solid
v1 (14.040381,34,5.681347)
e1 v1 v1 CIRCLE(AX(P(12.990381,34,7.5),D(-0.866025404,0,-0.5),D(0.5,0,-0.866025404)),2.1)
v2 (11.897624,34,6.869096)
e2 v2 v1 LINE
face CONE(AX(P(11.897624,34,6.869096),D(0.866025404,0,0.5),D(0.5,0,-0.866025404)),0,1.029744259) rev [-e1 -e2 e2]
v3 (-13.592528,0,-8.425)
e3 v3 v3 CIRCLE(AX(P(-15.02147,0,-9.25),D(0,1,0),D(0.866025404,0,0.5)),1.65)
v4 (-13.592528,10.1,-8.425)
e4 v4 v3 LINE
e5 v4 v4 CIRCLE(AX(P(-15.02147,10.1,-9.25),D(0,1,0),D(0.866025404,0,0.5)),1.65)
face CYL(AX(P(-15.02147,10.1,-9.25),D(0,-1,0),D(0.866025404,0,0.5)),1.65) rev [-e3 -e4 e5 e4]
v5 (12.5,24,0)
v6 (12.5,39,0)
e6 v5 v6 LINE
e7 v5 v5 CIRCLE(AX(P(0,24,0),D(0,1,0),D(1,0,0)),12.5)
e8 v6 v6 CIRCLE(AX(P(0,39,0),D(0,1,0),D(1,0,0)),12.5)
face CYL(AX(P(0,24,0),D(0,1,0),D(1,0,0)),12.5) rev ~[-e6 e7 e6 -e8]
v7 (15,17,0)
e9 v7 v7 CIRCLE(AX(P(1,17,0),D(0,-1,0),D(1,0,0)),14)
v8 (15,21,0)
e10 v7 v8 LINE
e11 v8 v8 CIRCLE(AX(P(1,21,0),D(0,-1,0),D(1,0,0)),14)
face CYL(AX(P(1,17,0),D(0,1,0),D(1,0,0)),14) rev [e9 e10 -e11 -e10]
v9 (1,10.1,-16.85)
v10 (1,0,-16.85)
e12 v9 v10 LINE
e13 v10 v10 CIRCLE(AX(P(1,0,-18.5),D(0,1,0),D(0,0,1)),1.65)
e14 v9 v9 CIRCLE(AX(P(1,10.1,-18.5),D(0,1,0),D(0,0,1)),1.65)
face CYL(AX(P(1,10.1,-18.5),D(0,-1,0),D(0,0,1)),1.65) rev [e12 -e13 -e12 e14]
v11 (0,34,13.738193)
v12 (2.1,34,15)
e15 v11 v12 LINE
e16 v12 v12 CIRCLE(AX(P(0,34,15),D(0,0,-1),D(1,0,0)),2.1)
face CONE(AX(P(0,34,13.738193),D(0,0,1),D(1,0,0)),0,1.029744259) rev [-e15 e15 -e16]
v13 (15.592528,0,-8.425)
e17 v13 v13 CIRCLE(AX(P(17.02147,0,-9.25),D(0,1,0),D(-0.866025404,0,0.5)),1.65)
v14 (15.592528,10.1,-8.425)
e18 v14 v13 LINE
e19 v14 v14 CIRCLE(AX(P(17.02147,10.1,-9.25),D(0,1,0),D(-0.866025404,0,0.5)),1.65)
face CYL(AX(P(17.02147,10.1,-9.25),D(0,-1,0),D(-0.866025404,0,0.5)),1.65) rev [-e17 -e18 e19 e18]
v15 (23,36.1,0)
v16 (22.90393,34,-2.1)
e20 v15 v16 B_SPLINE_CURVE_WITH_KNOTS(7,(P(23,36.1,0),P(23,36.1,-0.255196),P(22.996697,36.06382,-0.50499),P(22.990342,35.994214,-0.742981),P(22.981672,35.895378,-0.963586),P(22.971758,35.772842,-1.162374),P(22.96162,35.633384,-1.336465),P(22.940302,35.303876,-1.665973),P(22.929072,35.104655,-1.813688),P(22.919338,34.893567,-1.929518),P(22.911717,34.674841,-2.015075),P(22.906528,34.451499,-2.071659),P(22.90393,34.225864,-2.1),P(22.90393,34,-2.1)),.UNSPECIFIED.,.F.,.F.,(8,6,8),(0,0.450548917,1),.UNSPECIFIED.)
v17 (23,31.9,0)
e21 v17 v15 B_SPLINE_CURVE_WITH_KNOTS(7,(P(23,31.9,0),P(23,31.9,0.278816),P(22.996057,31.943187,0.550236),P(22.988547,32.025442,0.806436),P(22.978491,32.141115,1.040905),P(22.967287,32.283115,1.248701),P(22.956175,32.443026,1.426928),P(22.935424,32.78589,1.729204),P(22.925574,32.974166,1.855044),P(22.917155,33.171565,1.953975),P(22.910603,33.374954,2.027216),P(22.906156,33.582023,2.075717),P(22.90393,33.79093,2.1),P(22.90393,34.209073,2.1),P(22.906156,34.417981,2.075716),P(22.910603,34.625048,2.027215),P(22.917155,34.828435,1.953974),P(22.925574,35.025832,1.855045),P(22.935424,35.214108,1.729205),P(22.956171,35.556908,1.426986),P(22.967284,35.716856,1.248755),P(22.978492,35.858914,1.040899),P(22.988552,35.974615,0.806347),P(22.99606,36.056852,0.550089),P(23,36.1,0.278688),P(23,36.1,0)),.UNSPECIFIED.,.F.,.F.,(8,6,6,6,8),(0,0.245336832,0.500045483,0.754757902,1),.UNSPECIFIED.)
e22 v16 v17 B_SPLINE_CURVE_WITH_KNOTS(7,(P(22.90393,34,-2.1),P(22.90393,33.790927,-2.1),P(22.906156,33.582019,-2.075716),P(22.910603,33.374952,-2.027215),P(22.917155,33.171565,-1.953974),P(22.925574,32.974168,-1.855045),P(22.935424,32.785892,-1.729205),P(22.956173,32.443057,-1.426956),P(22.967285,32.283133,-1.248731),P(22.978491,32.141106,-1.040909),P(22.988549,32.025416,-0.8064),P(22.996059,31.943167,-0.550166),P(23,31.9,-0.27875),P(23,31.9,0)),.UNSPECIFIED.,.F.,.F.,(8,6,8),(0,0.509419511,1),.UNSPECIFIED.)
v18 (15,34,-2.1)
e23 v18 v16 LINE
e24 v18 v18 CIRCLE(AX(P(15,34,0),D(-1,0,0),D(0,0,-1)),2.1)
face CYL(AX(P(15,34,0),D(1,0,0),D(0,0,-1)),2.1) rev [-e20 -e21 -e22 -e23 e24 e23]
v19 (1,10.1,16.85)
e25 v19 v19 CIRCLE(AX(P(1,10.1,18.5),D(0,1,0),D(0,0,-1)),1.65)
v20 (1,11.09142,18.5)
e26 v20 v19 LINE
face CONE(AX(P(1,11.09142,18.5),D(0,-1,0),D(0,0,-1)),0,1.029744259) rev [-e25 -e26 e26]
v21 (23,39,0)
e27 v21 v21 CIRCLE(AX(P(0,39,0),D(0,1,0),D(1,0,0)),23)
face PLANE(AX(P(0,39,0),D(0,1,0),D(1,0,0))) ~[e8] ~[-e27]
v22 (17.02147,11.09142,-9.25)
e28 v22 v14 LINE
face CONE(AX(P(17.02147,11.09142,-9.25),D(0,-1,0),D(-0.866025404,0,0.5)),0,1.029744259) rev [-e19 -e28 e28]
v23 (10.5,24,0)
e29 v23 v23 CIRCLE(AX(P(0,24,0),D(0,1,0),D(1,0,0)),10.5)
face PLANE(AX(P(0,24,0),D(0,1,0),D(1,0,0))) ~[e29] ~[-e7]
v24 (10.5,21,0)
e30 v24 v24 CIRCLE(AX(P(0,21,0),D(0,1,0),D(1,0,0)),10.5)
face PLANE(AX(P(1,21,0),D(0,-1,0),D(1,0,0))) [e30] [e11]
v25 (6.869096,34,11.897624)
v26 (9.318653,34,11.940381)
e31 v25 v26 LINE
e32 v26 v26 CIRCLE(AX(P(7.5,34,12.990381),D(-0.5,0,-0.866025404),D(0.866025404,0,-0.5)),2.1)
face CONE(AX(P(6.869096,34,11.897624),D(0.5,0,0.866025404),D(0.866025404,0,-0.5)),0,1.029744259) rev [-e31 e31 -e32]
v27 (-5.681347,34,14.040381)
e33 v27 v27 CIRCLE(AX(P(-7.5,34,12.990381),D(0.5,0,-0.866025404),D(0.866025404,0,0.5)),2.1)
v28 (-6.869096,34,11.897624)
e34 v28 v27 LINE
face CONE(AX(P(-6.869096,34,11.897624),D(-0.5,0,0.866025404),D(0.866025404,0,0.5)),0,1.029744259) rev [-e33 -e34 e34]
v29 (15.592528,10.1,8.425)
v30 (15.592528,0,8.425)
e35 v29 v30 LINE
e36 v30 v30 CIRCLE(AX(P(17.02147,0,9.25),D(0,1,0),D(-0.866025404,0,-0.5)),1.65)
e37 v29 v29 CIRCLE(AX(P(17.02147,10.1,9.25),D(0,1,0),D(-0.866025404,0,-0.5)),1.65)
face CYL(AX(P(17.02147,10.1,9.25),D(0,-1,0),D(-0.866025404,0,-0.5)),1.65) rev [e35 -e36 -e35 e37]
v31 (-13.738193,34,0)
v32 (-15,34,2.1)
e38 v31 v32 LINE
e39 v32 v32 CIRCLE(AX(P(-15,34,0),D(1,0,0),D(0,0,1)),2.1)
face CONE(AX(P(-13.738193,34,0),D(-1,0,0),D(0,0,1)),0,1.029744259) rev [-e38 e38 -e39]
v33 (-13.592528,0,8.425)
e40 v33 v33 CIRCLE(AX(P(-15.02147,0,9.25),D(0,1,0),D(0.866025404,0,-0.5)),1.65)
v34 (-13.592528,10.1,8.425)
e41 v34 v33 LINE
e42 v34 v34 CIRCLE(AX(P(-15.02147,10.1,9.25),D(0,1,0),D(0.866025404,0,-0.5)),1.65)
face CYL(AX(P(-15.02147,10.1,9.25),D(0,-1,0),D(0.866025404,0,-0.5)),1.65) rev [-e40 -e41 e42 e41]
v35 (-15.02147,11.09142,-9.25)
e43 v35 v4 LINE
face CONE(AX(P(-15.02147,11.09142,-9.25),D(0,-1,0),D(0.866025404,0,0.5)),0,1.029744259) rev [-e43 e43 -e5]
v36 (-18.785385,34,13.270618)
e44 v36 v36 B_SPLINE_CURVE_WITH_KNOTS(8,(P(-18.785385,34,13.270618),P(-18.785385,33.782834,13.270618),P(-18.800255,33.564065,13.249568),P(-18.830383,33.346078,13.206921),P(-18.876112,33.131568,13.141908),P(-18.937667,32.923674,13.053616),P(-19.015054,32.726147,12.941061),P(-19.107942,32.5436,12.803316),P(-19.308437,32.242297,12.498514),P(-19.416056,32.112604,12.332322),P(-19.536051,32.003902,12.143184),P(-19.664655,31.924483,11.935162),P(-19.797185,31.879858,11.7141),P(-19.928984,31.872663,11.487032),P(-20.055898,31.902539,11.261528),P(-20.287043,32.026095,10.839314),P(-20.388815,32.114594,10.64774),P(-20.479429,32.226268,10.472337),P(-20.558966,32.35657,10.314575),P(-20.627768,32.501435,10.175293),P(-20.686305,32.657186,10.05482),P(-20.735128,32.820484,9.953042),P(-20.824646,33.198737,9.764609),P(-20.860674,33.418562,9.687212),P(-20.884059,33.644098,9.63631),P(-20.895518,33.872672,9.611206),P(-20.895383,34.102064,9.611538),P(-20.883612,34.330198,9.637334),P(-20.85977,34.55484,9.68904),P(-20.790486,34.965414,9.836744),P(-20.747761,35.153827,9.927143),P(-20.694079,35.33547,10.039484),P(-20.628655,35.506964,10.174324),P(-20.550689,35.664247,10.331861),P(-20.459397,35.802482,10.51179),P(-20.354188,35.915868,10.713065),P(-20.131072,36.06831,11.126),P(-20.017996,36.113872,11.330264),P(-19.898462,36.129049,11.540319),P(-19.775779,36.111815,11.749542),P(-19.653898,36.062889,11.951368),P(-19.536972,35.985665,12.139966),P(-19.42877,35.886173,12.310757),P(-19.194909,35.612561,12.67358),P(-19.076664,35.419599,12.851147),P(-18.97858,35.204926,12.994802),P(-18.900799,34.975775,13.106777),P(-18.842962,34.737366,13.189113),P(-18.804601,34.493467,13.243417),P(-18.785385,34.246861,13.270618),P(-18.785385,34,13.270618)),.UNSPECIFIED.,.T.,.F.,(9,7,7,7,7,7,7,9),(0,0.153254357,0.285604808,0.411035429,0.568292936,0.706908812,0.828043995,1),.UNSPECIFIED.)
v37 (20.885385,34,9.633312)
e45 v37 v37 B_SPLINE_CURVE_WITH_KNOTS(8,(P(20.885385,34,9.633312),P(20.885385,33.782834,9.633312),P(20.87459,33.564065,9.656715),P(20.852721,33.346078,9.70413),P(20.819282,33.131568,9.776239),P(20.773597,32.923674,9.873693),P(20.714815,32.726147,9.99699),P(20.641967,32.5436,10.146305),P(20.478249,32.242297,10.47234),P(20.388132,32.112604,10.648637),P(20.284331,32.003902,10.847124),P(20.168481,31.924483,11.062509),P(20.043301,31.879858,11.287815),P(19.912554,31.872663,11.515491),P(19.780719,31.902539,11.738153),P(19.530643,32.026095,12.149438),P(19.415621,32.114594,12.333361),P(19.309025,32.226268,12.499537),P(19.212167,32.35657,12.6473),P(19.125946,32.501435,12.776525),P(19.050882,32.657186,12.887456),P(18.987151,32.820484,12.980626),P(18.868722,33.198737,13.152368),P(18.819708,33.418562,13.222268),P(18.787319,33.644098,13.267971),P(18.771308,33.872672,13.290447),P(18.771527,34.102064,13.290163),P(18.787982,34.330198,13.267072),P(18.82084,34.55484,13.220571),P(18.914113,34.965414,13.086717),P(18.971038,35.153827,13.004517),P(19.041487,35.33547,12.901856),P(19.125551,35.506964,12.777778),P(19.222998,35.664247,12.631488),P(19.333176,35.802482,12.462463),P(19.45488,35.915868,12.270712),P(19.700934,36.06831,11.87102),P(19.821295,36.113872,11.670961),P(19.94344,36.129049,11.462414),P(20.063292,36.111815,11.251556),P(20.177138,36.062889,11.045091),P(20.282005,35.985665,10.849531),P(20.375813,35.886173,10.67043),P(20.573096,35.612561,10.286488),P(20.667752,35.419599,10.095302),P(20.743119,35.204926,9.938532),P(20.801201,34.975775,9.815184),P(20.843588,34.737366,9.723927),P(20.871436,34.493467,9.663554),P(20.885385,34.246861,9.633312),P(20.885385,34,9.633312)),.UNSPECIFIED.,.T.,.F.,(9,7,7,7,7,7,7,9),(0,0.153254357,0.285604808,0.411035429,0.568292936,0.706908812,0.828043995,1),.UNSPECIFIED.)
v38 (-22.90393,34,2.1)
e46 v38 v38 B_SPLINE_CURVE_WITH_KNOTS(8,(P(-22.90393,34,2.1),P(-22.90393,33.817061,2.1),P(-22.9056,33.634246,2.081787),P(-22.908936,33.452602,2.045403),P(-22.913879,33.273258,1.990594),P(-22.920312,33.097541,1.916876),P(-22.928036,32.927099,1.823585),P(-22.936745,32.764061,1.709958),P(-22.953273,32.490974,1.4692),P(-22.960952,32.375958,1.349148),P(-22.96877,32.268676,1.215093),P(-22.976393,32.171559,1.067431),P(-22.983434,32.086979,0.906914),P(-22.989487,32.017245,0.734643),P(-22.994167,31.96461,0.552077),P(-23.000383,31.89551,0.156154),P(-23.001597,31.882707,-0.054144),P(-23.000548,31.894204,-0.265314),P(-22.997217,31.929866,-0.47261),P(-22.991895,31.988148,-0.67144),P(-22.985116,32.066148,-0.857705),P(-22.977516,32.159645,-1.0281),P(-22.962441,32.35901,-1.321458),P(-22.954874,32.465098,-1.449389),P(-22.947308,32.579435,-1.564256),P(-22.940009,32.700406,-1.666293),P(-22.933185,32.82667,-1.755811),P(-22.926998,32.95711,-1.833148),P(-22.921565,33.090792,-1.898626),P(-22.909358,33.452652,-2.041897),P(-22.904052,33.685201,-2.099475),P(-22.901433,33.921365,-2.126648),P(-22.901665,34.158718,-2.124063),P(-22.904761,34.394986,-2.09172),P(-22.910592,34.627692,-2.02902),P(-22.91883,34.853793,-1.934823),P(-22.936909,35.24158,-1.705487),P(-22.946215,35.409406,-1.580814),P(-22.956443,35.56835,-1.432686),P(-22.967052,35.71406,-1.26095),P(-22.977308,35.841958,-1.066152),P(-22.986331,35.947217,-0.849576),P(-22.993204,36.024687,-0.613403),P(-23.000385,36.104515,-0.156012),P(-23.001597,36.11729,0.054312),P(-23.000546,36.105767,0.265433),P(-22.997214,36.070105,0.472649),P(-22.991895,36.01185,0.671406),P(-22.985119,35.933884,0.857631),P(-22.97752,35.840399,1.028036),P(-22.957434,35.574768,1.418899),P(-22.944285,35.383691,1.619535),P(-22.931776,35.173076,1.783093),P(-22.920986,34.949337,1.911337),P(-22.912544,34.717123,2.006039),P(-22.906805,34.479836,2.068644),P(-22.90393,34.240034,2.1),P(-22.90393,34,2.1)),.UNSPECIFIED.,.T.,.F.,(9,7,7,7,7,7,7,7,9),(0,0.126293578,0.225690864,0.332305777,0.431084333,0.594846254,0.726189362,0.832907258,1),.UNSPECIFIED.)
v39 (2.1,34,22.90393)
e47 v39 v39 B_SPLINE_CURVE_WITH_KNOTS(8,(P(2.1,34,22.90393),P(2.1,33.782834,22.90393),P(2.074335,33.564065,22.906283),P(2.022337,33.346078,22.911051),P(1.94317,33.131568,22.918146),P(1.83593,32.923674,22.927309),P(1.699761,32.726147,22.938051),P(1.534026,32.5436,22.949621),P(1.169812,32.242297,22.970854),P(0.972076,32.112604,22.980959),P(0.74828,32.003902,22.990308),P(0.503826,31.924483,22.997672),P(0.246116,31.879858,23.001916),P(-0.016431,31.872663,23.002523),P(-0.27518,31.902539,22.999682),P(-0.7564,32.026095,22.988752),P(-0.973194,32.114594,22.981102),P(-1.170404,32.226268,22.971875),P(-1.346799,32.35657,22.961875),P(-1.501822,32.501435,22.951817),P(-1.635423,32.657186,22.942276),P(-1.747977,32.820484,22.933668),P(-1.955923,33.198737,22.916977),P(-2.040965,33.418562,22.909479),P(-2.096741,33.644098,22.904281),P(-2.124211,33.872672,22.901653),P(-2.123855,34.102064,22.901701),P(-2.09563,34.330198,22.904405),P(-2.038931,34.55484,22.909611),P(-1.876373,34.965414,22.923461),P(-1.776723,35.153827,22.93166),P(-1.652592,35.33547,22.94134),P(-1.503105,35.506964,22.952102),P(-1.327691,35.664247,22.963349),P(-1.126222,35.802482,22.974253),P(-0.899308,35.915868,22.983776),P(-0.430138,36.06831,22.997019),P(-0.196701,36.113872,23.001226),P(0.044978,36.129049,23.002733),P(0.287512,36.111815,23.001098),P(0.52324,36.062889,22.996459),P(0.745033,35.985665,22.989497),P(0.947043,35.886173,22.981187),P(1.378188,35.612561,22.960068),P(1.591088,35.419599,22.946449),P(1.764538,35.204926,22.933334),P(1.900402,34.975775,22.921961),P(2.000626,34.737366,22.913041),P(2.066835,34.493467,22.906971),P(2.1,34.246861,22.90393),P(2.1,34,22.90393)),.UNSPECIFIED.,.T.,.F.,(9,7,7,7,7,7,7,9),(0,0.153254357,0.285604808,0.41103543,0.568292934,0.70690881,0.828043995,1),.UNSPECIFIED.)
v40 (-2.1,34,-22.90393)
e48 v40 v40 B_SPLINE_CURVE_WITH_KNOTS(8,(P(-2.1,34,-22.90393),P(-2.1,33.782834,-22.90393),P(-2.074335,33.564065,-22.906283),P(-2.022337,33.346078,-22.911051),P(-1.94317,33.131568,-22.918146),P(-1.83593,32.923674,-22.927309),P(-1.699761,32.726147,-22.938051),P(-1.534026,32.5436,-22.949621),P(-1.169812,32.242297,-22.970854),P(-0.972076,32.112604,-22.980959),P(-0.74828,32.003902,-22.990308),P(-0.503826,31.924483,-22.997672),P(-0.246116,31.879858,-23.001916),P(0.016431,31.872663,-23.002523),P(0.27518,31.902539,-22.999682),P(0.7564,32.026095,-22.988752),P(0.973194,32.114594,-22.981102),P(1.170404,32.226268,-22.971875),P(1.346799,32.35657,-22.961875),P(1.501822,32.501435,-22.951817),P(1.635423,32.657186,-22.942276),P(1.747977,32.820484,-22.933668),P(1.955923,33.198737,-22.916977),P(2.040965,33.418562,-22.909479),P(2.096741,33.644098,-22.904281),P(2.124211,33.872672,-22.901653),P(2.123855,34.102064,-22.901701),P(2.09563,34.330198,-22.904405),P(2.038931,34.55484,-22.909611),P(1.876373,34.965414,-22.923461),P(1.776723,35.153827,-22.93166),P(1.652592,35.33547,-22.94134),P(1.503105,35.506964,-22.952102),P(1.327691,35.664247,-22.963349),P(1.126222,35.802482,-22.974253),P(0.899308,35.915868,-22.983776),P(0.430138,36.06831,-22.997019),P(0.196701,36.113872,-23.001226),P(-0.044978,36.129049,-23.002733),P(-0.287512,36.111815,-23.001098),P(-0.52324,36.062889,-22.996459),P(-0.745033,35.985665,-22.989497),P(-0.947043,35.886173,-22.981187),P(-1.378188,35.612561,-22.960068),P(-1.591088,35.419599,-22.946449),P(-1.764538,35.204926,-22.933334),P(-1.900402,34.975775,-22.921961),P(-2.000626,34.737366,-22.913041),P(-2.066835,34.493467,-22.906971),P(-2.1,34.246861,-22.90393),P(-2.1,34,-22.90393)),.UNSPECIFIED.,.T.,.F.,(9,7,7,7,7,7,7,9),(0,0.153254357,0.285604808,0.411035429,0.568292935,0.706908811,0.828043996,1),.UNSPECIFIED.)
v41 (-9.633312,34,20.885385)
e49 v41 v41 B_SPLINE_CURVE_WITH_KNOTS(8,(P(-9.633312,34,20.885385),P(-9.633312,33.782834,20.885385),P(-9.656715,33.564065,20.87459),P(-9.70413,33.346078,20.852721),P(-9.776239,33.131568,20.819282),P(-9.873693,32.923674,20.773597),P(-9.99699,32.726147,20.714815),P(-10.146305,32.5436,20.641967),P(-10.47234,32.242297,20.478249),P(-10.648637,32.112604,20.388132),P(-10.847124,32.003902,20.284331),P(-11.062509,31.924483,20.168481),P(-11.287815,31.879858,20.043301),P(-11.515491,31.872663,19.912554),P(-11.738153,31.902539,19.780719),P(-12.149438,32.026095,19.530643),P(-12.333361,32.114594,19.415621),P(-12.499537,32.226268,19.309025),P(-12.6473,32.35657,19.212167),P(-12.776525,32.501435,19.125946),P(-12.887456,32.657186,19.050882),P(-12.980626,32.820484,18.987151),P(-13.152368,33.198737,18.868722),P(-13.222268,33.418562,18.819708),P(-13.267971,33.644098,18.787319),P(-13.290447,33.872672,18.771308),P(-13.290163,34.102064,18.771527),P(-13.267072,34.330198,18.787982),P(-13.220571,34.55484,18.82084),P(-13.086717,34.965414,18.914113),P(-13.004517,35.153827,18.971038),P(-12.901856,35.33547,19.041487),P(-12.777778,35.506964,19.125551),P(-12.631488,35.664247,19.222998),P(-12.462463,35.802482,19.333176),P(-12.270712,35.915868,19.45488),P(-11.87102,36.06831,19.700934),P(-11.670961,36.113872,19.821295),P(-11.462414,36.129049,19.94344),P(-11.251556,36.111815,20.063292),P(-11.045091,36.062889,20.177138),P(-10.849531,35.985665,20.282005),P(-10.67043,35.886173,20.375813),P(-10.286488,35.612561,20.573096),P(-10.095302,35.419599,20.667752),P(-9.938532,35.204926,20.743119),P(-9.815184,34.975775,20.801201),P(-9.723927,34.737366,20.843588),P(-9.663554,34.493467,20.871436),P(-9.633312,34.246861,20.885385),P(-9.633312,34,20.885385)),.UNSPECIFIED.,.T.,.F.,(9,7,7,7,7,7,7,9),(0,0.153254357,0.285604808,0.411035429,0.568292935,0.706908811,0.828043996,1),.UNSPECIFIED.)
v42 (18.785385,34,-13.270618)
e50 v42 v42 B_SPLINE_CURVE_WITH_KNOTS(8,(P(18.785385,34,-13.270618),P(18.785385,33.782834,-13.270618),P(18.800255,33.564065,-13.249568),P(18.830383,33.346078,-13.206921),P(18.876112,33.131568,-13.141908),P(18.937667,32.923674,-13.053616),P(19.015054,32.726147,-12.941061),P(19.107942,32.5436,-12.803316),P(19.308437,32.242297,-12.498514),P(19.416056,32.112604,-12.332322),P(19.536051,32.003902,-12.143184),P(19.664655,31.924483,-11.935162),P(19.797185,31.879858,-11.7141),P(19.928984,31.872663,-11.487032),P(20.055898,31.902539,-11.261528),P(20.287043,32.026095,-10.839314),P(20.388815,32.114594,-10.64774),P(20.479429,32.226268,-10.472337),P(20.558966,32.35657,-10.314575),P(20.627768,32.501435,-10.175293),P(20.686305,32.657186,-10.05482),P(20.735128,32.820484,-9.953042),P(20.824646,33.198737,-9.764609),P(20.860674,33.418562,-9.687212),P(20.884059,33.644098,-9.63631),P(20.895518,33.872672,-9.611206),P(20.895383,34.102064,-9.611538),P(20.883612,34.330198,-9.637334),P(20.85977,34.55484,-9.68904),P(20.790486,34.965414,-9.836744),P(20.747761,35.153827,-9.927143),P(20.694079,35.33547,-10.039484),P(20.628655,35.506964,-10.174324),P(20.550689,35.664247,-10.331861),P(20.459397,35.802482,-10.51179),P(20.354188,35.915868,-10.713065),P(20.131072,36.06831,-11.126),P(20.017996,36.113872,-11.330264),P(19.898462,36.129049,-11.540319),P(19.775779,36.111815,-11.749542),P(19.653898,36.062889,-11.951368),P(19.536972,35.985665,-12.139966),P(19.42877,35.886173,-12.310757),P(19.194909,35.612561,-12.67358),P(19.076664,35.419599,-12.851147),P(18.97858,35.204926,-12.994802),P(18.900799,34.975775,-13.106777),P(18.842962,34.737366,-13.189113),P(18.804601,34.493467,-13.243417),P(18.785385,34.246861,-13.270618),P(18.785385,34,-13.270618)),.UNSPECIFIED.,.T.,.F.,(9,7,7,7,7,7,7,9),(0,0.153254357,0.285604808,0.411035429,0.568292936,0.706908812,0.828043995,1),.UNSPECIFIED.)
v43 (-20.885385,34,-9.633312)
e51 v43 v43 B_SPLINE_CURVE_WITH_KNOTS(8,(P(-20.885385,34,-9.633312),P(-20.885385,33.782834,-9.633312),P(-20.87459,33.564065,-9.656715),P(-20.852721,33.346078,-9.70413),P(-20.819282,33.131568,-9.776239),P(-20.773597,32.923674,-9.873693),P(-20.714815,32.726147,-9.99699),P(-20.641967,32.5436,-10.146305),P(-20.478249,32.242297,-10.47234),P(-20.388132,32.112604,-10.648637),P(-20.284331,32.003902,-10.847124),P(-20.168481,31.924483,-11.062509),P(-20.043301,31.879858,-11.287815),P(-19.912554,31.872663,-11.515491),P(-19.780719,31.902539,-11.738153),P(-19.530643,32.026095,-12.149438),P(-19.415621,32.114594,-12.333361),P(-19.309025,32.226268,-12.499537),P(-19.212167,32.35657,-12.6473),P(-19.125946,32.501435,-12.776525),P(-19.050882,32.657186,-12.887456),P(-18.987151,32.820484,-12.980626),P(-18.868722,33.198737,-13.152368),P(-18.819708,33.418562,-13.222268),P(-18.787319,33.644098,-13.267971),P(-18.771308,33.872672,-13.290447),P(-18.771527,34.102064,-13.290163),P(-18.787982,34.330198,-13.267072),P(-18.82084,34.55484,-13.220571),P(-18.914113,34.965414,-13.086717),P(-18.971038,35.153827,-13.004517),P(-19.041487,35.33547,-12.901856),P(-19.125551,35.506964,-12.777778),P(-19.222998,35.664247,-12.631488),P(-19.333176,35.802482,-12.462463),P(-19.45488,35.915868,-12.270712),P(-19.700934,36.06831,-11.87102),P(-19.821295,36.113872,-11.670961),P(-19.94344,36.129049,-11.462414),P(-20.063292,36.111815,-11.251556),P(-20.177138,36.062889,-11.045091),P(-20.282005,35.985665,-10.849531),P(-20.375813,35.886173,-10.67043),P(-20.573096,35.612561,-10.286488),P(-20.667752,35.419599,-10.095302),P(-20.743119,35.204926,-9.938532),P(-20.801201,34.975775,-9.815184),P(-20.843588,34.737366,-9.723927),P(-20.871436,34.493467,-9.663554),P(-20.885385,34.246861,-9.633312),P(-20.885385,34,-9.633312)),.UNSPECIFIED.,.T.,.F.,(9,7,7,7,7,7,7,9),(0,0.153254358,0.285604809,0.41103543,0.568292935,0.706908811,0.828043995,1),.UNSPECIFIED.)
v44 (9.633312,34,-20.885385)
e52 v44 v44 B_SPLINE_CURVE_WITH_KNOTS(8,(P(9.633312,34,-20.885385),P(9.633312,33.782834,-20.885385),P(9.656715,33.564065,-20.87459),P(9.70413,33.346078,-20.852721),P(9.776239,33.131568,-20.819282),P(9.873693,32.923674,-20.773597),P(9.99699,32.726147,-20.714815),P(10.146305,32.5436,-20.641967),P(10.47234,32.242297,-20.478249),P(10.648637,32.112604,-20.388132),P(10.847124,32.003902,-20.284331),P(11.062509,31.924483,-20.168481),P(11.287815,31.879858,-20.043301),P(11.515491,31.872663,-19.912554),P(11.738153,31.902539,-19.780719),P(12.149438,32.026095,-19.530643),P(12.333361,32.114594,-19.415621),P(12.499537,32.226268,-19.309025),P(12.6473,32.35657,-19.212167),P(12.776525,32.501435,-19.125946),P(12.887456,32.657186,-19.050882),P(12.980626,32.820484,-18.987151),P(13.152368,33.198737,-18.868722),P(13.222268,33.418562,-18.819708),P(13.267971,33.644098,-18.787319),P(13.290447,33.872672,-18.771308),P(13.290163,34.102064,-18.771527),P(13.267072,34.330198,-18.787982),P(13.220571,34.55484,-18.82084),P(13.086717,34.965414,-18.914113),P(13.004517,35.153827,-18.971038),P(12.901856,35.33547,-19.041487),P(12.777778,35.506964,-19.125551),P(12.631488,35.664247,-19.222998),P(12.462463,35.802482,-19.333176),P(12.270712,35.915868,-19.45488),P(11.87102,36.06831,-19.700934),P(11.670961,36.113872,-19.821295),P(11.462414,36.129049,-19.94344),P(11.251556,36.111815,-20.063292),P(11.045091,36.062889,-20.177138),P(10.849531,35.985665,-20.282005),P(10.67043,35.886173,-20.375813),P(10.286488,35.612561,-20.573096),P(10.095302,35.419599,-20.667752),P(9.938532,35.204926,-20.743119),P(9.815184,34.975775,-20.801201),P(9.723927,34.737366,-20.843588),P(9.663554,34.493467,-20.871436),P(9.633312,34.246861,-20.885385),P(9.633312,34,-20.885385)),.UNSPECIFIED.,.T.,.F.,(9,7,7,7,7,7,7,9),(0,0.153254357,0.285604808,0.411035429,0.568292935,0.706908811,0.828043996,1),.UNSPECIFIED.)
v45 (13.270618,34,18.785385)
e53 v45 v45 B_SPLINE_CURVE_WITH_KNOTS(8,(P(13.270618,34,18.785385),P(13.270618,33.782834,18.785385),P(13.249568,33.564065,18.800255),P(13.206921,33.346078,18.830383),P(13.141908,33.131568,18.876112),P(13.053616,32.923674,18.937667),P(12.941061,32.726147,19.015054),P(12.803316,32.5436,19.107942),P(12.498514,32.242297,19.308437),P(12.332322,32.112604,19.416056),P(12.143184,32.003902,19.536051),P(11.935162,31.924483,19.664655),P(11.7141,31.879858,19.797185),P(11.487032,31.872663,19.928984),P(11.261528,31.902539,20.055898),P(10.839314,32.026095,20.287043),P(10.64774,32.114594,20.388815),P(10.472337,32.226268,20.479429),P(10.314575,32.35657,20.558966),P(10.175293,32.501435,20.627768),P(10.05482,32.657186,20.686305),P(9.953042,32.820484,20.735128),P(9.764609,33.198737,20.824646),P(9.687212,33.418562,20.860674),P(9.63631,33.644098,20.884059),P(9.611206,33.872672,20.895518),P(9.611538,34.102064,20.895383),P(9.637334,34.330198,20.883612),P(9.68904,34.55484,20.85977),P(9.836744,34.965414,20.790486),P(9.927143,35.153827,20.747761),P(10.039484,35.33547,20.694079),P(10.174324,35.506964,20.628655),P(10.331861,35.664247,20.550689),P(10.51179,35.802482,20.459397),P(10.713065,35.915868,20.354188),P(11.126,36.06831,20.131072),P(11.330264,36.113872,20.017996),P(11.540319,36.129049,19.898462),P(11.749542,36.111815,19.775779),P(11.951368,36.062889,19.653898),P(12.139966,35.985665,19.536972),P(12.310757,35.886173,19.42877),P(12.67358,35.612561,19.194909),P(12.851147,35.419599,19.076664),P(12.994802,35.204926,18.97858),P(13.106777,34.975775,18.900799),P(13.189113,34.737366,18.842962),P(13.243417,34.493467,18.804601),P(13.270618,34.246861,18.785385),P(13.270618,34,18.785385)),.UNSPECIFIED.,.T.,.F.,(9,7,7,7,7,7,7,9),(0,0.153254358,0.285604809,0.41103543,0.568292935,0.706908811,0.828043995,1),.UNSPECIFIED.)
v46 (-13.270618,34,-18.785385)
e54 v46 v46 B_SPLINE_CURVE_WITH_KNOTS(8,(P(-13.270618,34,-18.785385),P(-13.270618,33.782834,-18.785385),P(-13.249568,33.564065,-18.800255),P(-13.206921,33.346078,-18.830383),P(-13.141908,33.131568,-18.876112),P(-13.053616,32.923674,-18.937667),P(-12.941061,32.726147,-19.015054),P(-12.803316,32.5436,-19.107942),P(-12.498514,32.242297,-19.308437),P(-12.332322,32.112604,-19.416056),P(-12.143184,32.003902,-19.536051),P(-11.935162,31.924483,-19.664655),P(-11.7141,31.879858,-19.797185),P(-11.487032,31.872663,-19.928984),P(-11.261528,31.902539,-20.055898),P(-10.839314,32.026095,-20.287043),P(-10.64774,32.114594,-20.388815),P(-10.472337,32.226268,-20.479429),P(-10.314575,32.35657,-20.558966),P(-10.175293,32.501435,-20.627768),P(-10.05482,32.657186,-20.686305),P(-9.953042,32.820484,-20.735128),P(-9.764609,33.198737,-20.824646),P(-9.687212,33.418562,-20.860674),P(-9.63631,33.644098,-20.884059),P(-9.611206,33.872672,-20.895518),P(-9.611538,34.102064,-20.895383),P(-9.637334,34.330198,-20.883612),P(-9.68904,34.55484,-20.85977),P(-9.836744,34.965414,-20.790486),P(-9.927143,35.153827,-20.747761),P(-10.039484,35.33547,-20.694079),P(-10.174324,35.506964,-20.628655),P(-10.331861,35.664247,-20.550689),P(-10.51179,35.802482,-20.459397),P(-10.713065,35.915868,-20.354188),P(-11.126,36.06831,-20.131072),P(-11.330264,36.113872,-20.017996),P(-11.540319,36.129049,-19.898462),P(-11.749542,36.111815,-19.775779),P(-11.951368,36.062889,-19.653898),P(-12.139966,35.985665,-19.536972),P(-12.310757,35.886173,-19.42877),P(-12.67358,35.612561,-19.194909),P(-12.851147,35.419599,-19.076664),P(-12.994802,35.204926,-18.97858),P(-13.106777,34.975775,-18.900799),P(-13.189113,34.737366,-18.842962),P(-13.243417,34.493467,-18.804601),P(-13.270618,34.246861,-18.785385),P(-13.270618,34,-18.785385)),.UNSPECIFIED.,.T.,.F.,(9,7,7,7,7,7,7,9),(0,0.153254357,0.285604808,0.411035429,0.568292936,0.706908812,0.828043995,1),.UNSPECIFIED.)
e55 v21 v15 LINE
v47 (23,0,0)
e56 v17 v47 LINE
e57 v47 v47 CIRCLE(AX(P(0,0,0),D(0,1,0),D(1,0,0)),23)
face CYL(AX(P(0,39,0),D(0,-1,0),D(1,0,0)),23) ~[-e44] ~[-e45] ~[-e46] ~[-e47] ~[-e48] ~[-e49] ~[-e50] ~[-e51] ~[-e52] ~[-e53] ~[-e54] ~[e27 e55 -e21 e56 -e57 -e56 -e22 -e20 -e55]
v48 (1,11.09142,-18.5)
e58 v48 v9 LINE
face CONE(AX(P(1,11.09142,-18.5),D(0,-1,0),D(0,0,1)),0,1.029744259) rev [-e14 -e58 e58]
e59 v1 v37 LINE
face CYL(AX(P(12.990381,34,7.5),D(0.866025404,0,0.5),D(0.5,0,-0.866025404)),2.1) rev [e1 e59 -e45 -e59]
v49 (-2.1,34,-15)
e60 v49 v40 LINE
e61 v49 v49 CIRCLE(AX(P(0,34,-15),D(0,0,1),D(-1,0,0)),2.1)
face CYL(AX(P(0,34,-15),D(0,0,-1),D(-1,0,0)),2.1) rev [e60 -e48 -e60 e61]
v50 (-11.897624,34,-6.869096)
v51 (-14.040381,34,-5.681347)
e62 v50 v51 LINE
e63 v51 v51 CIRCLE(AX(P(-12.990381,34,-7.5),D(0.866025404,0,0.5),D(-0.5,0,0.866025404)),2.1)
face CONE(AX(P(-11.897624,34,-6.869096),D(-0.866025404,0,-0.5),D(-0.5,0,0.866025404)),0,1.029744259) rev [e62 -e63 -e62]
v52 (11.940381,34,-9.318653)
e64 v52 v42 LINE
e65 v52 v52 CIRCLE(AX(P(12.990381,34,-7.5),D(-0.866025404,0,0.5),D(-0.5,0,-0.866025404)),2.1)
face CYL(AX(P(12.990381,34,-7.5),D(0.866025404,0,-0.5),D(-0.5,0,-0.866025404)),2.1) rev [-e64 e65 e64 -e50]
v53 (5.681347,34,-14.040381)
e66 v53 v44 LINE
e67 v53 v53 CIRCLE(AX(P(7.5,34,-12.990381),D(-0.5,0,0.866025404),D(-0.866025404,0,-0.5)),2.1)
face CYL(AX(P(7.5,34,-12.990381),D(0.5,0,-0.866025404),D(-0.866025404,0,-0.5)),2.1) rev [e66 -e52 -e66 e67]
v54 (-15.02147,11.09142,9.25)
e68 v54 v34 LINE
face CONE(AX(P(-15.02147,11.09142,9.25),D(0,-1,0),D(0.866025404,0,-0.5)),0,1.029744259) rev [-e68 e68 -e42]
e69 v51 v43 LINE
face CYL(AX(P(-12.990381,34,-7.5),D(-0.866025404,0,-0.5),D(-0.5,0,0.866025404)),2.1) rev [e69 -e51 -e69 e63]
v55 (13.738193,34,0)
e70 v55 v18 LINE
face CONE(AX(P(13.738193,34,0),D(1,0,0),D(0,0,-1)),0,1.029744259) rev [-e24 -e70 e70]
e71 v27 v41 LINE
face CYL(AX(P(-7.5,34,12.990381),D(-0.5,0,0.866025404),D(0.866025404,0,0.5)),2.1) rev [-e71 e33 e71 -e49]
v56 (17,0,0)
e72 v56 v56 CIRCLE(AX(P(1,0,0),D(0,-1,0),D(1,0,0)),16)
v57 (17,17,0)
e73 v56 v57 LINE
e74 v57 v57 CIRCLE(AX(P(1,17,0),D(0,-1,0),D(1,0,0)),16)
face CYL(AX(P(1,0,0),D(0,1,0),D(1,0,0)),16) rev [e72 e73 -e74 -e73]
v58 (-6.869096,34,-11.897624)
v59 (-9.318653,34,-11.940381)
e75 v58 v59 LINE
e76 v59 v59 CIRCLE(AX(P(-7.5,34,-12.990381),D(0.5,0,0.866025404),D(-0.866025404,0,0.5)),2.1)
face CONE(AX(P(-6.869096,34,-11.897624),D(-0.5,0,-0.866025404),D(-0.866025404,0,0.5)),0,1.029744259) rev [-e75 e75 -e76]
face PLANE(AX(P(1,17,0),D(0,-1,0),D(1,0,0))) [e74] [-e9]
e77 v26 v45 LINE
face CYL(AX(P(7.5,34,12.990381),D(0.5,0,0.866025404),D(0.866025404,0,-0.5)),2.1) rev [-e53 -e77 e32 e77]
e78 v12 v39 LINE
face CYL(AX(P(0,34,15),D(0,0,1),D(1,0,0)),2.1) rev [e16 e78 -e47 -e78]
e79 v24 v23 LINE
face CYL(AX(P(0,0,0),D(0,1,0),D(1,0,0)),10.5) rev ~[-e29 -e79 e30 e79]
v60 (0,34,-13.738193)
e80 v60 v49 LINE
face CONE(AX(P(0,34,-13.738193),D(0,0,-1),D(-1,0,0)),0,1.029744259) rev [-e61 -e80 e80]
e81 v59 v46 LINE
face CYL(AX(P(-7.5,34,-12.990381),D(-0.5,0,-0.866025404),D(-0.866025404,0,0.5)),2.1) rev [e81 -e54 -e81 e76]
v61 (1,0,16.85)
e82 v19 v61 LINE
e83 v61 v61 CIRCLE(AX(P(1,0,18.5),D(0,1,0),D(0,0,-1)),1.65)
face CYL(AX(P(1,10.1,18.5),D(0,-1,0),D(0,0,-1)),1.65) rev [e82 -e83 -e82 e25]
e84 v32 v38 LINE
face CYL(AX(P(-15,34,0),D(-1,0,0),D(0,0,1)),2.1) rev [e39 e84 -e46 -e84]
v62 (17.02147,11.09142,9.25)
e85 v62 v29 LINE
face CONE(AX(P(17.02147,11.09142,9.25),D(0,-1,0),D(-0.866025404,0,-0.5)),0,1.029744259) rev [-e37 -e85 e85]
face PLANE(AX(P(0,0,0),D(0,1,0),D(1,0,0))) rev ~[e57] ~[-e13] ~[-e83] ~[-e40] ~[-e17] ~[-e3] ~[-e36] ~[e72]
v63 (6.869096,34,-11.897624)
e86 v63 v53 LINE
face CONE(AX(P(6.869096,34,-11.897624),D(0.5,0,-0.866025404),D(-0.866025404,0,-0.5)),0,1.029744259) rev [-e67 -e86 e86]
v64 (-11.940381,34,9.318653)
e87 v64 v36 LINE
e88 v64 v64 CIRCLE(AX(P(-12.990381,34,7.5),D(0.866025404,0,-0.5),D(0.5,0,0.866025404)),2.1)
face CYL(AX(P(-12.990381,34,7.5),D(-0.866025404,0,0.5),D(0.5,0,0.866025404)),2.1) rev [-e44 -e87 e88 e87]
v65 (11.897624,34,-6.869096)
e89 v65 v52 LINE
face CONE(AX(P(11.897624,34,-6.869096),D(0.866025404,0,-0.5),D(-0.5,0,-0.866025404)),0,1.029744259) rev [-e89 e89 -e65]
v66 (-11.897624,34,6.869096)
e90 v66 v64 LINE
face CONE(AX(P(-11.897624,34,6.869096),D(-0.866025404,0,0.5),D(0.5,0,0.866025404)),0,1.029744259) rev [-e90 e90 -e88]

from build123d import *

# Parameters (mm, degrees)
CIRPATTERN4_COUNT = 6
CIRPATTERN3_COUNT = 12


with BuildPart() as part:
    # Sketch1 → Revolve1 (revolve)
    with BuildSketch(Plane.XY):
        Polygon((12.5, 39), (23, 39), (23, 0), (10.5, 0), (10.5, 24), (12.5, 24), align=None)
    revolve(axis=Axis((0, 64.150553744, 0), (0, 1, 0)))

    # Sketch2 → Cut-Revolve1 (revolve, cut)
    with BuildSketch(Plane.XY):
        Polygon((15, 21), (1, 21), (1, 17), (1, 0), (17, 0), (17, 17), (15, 17), align=None)
    revolve(axis=Axis((1, 17, 0), (0, -1, 0)), mode=Mode.SUBTRACT)

    # Sketch17 → M4x0.7 Tapped Hole1 (revolve, cut)
    with BuildSketch(Plane(origin=(1, 0, 18.5), x_dir=(0, 0, -1), z_dir=(1, 0, 0))):
        Polygon((0, 0), (0, 11.091420021), (1.65, 10.1), (1.65, 0), align=None)
    m4x0_7_tapped_hole1 = revolve(axis=Axis((1, -6.35, 18.5), (0, 1, 0)), mode=Mode.SUBTRACT)

    # CirPattern4: M4x0.7 Tapped Hole1 ×6 about axis
    cirpattern4_axis = Axis((1, 0, 0), (0, 1, 0))
    for i in range(1, CIRPATTERN4_COUNT):
        add(m4x0_7_tapped_hole1.rotate(cirpattern4_axis, i * 360 / CIRPATTERN4_COUNT), mode=Mode.SUBTRACT)

    # Sketch14 → M5x0.8 Tapped Hole1 (revolve, cut)
    with BuildSketch(Plane(origin=(-23, 34, 0), x_dir=(0, 0, 1), z_dir=(0, 1, 0))):
        Polygon((0, 0), (0, 9.2618073), (2.1, 8), (2.1, 0), align=None)
    m5x0_8_tapped_hole1 = revolve(axis=Axis((-29.35, 34, 0), (1, 0, 0)), mode=Mode.SUBTRACT)

    # CirPattern3: M5x0.8 Tapped Hole1 ×12 about axis
    cirpattern3_axis = Axis((0, 64.150553744, 0), (0, -1, 0))
    for i in range(1, CIRPATTERN3_COUNT):
        add(m5x0_8_tapped_hole1.rotate(cirpattern3_axis, i * 360 / CIRPATTERN3_COUNT), mode=Mode.SUBTRACT)


solid = part.part
